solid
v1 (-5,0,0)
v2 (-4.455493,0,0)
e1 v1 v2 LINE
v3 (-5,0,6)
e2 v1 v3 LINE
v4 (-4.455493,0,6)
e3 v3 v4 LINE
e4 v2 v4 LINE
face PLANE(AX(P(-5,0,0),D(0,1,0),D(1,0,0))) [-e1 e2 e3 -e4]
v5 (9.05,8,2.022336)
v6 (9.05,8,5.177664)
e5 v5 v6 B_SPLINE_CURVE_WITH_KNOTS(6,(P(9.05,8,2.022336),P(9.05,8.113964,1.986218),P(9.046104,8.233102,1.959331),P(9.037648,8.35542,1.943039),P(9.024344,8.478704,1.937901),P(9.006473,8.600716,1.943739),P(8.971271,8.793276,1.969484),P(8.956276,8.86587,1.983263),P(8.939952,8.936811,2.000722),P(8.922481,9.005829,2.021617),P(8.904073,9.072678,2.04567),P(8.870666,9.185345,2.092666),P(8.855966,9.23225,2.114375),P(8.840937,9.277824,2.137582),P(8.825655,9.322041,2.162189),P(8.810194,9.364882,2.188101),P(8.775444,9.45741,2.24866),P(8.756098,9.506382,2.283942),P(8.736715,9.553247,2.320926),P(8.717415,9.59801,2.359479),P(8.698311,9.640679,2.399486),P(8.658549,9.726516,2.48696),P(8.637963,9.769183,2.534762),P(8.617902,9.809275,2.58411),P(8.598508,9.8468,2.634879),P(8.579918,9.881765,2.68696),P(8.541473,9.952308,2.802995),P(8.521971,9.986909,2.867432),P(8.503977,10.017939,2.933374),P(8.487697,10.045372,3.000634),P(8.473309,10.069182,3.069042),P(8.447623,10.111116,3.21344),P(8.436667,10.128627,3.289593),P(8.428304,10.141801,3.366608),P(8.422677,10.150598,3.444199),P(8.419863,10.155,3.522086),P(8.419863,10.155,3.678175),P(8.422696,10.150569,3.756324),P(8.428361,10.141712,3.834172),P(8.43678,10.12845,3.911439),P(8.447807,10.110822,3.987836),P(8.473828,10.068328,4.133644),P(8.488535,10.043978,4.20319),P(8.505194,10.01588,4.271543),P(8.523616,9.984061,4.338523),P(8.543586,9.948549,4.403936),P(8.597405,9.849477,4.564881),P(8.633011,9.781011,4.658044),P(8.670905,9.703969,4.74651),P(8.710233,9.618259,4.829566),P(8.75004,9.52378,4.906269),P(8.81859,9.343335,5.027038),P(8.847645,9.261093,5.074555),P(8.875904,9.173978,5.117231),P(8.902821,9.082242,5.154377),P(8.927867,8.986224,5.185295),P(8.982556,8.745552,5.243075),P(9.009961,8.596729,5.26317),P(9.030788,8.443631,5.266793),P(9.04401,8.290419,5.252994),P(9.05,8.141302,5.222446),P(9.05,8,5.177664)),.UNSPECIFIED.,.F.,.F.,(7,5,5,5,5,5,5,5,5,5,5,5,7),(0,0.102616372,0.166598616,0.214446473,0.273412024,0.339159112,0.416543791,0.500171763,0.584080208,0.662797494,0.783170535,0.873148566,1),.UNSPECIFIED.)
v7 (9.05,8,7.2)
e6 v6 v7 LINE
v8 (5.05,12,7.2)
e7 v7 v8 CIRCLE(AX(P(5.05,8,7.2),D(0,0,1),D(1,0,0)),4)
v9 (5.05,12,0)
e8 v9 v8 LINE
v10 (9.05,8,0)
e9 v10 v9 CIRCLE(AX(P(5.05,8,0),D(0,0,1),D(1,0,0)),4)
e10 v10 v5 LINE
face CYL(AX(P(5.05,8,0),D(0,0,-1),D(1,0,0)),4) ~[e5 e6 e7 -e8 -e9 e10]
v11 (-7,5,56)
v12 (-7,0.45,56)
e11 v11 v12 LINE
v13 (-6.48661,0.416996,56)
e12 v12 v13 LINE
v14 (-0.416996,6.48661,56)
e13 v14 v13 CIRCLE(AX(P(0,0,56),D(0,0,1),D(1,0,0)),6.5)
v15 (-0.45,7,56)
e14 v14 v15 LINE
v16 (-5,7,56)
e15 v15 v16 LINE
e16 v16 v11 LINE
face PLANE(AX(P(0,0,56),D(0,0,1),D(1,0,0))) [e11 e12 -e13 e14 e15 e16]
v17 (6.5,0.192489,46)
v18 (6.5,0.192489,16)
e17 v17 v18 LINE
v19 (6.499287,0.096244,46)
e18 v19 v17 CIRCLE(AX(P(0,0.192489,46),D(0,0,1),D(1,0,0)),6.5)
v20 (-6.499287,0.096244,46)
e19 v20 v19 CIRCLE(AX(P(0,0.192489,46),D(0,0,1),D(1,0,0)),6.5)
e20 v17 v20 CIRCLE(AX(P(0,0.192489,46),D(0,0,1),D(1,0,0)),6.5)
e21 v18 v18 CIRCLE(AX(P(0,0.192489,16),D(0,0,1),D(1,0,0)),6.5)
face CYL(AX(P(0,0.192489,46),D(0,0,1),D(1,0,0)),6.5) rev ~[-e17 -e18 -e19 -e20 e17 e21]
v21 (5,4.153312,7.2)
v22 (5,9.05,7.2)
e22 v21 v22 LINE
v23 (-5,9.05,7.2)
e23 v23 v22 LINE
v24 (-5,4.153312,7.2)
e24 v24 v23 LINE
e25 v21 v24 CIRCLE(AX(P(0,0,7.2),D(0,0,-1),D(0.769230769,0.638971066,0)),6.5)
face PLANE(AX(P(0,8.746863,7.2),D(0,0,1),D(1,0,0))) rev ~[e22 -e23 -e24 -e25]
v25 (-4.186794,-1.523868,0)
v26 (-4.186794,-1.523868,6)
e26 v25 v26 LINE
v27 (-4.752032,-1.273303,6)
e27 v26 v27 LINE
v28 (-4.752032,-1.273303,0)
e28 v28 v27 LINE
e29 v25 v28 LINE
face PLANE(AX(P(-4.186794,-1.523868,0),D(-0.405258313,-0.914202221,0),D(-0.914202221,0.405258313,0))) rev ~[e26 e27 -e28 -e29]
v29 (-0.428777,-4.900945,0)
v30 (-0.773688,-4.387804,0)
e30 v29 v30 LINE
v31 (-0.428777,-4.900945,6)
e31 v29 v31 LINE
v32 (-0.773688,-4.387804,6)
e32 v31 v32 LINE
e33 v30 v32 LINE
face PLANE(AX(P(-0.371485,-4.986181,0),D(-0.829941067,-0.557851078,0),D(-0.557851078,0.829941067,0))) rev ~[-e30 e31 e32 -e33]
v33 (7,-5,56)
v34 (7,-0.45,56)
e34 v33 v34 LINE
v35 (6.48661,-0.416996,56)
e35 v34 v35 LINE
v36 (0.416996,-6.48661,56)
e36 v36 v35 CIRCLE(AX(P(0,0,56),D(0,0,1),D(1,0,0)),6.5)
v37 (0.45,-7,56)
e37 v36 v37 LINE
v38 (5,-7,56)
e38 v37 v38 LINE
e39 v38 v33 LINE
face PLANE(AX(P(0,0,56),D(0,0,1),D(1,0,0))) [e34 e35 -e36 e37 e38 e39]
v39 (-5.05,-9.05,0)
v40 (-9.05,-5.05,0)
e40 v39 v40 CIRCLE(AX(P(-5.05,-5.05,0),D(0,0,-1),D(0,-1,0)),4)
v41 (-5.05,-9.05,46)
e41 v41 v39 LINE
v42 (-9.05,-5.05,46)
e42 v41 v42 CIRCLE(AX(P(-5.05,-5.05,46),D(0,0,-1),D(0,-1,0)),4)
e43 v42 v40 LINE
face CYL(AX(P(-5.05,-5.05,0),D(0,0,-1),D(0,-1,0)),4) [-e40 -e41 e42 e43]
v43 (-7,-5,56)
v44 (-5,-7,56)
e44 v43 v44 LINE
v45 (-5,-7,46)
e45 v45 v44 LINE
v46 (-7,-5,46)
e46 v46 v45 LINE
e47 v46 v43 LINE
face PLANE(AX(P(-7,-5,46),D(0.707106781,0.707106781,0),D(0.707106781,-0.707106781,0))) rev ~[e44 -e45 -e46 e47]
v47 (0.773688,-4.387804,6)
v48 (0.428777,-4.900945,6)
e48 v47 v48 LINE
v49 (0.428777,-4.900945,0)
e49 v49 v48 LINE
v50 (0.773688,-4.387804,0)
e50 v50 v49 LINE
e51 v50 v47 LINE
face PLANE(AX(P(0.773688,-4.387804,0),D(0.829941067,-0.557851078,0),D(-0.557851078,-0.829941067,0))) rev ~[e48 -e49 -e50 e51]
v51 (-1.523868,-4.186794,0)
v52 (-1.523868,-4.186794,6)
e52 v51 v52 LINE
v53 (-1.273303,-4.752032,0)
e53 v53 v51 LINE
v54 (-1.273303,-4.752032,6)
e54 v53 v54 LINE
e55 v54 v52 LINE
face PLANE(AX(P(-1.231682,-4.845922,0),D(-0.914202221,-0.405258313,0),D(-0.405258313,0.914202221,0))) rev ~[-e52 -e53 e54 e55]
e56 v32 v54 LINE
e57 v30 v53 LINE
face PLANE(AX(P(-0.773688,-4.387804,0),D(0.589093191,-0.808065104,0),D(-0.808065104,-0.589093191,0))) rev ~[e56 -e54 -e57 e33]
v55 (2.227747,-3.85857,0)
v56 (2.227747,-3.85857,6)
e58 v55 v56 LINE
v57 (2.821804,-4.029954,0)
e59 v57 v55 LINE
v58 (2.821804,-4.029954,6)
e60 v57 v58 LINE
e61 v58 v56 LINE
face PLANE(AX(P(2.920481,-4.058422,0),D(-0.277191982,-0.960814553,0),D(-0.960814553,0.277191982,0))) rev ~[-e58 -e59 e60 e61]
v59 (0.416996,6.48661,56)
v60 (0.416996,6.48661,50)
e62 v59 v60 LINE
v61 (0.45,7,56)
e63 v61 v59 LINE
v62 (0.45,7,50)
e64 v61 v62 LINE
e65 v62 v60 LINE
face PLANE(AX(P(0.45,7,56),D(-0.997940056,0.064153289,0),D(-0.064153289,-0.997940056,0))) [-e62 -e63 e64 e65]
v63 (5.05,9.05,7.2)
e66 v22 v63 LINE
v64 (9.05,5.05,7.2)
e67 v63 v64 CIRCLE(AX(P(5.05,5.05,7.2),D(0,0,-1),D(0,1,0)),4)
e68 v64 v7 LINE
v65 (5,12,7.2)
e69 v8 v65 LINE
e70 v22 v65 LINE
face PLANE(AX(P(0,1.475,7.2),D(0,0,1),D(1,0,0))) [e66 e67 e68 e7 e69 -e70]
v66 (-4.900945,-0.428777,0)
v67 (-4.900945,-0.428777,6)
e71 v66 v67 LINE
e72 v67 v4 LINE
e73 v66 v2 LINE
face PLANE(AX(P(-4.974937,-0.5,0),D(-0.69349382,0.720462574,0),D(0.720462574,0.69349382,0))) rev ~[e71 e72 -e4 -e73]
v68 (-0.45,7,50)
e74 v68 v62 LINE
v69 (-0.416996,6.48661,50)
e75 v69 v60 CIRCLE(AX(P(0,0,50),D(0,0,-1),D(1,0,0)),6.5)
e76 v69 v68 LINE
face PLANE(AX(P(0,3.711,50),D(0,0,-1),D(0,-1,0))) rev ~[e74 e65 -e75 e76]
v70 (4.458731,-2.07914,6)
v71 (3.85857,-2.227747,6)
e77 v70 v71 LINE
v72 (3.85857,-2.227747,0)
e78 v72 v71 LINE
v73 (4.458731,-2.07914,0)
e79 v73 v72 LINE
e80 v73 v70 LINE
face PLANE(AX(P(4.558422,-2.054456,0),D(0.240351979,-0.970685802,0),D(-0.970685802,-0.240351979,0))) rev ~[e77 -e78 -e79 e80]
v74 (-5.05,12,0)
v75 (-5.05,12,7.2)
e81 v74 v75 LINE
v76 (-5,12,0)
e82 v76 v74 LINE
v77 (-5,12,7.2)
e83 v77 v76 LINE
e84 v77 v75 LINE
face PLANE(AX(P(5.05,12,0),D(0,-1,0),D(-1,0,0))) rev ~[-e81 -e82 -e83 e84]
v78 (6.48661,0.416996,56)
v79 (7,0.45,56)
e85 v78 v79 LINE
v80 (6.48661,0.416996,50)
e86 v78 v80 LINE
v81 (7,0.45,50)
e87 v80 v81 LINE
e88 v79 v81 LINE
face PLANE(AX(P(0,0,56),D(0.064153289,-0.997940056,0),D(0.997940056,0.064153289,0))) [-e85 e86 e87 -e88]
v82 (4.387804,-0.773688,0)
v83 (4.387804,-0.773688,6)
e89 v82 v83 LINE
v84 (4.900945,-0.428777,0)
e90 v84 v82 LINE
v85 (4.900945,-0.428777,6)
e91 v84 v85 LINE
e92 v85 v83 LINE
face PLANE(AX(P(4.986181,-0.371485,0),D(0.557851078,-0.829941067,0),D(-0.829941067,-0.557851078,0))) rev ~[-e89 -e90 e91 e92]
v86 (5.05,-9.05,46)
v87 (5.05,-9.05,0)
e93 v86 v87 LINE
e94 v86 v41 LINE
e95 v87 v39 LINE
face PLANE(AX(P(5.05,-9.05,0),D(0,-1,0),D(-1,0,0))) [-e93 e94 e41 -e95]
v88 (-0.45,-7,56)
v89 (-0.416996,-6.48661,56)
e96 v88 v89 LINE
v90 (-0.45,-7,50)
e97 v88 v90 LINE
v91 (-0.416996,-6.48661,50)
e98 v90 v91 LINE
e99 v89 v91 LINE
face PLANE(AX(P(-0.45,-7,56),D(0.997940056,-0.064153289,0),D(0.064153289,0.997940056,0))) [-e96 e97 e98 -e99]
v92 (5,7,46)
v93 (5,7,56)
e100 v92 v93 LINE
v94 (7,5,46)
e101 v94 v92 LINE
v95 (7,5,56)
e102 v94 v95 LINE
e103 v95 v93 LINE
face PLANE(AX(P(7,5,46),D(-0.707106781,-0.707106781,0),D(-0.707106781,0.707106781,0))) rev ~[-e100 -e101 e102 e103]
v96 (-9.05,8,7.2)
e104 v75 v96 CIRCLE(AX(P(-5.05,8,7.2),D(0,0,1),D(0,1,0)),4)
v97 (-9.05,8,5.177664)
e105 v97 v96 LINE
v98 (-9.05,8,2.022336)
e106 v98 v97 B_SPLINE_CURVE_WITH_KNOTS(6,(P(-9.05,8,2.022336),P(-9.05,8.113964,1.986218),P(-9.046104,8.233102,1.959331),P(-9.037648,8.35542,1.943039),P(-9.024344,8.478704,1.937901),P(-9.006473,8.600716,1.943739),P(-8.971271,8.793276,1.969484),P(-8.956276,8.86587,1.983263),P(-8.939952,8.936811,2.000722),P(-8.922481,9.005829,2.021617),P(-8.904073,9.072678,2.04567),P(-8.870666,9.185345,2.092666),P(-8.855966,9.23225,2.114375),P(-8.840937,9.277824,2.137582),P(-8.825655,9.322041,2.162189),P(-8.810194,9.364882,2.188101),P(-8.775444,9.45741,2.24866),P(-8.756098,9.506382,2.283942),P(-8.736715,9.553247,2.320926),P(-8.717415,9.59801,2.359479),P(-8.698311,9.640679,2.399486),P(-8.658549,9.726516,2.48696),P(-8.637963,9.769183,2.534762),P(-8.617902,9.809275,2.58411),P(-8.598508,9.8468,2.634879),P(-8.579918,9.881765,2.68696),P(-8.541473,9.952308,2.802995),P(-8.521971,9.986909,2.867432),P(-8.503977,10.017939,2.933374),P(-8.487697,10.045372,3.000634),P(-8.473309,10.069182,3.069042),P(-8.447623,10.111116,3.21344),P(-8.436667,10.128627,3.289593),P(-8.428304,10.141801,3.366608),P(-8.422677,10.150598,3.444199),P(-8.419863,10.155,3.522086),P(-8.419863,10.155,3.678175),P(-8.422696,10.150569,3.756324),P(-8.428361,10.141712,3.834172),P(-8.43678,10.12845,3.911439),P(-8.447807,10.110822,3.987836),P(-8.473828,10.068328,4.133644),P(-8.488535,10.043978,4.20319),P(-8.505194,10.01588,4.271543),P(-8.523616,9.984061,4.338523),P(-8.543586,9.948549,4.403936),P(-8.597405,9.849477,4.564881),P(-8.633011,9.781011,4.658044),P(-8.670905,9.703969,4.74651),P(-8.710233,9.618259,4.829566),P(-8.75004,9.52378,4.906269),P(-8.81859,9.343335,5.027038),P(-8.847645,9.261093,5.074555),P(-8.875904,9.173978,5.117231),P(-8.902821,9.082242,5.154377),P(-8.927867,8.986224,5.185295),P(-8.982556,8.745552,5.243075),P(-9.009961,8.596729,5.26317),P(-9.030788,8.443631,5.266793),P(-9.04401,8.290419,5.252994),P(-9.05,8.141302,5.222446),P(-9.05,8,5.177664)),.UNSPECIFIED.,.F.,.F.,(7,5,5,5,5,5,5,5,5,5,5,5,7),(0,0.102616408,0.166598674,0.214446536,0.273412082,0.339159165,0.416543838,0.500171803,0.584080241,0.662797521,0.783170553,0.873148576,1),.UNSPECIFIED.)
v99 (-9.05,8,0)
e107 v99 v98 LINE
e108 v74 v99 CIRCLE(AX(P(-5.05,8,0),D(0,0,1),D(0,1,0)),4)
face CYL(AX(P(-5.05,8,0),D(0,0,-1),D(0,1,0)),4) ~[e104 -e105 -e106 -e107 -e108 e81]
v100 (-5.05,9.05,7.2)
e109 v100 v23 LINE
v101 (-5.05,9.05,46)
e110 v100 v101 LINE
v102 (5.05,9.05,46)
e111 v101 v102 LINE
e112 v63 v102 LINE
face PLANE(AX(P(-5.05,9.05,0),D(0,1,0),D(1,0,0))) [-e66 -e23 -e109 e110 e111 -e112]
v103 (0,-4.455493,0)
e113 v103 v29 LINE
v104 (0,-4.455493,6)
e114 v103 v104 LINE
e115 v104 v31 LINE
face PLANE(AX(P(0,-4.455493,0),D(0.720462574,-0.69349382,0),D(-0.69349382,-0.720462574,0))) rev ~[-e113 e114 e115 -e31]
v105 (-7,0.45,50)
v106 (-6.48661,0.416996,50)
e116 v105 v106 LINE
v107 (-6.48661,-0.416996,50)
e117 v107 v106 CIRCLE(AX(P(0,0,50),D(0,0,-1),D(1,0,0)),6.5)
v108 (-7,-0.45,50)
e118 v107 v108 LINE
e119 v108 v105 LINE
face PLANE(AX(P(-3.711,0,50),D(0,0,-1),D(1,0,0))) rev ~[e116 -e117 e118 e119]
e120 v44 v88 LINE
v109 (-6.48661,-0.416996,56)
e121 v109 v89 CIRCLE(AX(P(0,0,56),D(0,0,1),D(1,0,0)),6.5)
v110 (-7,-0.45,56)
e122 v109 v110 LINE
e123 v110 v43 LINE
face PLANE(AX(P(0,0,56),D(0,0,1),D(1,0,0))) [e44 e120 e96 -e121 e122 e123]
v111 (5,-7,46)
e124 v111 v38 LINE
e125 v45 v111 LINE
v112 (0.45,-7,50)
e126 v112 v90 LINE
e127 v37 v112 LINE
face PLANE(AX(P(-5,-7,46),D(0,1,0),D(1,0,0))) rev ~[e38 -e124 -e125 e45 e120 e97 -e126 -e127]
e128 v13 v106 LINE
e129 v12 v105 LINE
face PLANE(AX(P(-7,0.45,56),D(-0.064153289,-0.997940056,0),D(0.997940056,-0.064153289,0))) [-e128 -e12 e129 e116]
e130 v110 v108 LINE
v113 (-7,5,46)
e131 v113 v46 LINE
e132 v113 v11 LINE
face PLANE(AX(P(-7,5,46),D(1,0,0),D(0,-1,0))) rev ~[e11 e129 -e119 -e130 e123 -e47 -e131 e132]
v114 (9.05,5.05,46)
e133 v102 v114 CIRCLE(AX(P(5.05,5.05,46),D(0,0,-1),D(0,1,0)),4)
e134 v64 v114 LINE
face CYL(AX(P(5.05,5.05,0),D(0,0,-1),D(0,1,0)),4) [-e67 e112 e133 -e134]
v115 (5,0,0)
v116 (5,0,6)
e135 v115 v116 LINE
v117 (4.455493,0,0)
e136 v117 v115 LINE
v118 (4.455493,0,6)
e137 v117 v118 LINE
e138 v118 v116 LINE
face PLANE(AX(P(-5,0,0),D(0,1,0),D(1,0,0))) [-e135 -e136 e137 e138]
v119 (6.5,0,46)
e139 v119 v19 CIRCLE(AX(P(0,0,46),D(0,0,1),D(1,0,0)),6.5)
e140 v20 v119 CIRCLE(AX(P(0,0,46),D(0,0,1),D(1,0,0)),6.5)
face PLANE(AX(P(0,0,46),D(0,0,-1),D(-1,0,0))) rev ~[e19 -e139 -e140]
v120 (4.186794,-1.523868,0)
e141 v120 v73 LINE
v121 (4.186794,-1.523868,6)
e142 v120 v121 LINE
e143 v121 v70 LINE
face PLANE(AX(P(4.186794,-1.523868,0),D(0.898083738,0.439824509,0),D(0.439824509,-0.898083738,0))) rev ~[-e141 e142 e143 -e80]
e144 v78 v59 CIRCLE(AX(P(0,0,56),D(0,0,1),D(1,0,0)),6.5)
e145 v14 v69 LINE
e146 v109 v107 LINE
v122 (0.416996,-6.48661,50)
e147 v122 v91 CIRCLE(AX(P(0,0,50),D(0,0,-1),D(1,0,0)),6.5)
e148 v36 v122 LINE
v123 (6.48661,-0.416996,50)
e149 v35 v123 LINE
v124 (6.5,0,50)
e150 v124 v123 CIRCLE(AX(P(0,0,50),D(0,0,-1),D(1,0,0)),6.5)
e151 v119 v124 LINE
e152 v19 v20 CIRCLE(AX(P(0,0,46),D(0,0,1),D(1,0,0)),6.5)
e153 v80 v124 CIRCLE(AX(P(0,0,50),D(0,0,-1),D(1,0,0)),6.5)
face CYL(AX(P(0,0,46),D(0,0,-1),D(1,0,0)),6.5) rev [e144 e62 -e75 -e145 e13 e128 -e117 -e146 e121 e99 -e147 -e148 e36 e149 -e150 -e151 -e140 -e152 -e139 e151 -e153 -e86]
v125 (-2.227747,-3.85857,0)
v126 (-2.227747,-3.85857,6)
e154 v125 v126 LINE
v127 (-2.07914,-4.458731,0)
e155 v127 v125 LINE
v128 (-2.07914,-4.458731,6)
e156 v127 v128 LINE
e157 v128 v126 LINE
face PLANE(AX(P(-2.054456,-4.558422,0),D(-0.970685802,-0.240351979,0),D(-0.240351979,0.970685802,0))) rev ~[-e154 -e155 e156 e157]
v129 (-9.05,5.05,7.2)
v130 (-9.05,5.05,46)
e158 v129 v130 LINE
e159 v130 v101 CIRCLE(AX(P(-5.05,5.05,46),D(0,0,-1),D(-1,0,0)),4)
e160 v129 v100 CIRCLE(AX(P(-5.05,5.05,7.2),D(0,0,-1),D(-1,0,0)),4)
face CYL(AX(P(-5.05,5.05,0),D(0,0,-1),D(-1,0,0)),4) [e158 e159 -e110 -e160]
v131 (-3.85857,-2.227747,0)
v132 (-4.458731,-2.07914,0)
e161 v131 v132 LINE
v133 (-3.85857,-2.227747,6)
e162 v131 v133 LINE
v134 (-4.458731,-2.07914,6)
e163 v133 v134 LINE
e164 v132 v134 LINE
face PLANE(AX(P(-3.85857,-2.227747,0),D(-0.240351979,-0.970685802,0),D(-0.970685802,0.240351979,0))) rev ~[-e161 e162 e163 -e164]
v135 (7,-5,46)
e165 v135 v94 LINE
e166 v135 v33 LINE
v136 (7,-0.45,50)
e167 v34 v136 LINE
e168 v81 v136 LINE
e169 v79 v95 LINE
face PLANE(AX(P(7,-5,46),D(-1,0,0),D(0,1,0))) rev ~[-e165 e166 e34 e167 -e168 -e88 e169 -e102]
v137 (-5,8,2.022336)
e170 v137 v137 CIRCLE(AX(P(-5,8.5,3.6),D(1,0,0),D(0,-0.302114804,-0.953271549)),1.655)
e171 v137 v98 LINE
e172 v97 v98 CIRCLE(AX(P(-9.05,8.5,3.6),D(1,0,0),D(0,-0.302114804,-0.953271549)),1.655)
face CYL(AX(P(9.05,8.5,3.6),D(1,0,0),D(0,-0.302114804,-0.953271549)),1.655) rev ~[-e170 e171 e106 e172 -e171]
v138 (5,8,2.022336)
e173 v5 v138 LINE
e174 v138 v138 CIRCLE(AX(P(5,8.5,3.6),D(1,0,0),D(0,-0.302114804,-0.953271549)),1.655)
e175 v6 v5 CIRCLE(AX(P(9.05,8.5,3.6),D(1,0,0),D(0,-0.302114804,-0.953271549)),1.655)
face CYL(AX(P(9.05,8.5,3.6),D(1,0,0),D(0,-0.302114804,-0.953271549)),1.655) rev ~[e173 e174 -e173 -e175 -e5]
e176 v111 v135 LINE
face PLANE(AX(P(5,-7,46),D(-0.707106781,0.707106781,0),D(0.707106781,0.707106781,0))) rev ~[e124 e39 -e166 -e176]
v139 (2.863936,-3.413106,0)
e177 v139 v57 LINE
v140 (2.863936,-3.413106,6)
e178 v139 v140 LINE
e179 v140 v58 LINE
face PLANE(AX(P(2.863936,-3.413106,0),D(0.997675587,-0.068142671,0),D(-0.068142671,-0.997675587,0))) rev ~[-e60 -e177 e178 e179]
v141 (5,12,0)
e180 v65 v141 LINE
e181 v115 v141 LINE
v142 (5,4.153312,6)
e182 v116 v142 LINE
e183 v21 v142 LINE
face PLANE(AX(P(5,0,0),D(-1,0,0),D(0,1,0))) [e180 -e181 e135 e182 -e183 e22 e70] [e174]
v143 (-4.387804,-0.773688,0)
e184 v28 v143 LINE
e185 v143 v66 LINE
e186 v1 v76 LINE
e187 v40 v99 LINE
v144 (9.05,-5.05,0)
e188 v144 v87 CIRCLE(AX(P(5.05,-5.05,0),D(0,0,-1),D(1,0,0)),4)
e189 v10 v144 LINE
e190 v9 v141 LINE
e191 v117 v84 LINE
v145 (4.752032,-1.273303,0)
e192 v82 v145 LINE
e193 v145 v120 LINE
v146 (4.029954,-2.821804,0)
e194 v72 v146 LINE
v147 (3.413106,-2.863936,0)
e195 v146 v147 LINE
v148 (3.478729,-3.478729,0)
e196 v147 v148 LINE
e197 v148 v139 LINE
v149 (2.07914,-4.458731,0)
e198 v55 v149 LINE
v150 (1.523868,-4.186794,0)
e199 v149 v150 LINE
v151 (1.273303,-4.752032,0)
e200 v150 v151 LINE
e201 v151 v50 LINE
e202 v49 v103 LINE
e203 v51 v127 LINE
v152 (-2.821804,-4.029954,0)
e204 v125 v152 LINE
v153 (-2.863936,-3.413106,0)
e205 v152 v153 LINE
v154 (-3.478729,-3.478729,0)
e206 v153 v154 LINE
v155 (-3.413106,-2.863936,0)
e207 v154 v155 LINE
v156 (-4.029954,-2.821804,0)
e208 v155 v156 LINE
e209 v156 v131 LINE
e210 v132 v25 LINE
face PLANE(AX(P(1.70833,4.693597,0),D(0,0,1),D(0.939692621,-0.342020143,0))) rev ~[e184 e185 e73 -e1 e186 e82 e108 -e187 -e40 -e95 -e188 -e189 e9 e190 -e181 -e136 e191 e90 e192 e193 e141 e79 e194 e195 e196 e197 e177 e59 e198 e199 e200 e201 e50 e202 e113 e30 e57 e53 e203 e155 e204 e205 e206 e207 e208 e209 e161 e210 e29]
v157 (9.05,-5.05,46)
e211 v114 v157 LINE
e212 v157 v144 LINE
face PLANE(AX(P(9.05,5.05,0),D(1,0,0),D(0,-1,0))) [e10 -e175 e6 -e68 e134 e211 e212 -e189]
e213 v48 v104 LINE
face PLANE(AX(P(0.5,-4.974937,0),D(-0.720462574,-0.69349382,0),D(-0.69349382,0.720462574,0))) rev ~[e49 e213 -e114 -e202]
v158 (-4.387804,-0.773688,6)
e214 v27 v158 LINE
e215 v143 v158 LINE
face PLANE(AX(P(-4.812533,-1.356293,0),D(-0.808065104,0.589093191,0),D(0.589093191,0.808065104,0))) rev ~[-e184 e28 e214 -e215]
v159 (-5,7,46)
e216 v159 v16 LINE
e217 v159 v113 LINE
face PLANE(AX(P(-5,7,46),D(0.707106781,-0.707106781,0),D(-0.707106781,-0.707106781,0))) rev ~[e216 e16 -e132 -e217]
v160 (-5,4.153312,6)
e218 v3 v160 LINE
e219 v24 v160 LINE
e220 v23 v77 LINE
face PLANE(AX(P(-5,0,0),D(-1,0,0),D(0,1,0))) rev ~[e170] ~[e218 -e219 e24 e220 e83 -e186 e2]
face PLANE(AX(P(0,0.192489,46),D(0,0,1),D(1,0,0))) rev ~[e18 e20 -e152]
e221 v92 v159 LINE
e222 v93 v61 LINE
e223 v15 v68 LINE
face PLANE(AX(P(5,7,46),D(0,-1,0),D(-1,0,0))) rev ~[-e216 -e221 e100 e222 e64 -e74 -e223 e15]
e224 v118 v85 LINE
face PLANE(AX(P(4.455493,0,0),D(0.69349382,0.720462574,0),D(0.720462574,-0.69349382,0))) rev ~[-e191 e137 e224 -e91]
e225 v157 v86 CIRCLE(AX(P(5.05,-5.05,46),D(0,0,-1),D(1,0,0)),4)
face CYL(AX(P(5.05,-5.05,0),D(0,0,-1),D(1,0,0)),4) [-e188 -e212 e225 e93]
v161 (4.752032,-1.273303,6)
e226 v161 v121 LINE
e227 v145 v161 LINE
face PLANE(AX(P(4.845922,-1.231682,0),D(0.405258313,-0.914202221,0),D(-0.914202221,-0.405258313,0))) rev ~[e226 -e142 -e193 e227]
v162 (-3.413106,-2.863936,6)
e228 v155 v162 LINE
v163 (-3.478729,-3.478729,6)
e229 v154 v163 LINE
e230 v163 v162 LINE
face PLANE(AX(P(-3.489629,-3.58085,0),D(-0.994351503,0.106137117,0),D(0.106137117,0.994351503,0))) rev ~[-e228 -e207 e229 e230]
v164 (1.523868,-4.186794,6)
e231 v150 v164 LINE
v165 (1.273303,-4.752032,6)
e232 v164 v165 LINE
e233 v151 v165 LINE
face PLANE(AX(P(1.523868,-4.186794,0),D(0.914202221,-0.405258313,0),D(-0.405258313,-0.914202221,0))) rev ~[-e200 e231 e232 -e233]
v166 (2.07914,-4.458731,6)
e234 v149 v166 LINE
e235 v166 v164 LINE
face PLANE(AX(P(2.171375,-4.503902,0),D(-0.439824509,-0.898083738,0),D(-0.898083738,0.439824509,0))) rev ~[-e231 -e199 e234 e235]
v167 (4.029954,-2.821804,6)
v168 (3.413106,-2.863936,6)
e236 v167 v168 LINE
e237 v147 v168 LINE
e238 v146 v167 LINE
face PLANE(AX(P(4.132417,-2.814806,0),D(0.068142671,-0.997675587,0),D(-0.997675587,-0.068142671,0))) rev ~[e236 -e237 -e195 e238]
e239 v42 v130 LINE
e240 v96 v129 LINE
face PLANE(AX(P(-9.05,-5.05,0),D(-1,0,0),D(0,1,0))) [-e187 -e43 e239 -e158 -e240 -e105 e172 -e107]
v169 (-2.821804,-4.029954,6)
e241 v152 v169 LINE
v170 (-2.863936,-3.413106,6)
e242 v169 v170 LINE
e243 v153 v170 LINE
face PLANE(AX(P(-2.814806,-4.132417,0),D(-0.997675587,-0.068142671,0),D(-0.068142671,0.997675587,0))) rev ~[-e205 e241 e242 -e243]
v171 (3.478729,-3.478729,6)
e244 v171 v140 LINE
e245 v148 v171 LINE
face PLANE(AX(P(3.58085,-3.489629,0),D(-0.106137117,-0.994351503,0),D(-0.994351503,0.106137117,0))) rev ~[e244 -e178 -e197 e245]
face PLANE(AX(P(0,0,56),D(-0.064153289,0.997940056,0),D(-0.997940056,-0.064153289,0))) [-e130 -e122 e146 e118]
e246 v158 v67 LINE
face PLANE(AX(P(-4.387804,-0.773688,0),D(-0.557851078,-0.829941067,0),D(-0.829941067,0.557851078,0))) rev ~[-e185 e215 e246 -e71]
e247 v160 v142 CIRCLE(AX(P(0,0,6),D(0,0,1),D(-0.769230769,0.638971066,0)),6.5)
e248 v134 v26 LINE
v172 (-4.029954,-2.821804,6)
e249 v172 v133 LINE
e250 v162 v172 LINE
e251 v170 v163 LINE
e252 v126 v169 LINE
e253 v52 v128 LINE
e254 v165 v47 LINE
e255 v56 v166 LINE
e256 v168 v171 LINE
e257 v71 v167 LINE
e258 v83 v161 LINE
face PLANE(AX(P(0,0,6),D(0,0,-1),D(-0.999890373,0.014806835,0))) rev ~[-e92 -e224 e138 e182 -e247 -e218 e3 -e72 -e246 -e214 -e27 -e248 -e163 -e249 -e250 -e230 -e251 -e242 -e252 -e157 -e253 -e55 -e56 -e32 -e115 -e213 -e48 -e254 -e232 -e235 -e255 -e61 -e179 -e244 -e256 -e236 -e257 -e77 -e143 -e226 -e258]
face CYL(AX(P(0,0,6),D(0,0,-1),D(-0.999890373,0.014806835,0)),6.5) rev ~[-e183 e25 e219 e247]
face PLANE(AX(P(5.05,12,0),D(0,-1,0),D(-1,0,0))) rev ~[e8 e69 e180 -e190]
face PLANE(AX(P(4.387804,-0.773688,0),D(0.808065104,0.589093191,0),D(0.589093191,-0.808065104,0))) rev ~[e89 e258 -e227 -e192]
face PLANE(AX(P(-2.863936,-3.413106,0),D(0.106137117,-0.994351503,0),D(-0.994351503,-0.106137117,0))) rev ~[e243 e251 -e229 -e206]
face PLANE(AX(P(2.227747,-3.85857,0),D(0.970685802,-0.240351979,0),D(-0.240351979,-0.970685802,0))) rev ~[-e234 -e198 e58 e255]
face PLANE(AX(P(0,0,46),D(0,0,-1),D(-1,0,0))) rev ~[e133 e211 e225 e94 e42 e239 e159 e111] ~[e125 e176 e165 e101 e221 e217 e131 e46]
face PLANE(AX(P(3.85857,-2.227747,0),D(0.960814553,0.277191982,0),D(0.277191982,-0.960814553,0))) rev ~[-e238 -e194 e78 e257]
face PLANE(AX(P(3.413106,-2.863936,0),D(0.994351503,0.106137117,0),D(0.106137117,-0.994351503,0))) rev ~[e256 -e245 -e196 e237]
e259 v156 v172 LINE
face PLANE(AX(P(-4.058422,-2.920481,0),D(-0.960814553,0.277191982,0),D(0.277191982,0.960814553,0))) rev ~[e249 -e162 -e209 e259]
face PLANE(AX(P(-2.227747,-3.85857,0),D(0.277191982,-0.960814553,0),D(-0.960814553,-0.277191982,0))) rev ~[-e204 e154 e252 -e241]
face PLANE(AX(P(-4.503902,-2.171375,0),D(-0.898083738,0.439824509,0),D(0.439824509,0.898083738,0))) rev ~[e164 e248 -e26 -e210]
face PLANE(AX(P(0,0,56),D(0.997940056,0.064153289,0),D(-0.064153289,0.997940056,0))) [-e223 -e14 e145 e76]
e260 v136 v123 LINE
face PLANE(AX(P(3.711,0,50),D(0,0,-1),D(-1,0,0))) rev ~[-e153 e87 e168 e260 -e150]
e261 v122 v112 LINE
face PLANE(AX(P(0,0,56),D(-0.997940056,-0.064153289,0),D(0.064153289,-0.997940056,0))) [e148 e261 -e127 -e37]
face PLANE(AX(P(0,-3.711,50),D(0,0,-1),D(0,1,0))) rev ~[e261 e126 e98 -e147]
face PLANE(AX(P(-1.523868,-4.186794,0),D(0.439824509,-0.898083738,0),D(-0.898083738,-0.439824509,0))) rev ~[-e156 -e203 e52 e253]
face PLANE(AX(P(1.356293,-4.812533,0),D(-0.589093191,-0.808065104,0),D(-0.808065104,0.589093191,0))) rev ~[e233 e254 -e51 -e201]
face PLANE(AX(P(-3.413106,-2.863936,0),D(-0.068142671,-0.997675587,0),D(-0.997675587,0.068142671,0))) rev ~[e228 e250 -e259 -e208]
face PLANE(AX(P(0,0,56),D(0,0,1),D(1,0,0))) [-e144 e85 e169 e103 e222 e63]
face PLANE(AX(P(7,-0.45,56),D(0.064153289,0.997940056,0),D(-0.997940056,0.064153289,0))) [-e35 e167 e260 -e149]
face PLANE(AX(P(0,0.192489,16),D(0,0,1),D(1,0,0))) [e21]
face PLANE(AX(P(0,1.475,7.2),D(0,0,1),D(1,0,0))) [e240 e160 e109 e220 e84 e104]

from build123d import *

# Parameters (mm, degrees)
BOSS_EXTRUDE1_DEPTH = 46
SKETCH3_R           = 6.5
BOSS_EXTRUDE2_DEPTH = 10
CUT_EXTRUDE7_DEPTH  = 6
CIRPATTERN1_COUNT   = 4
SKETCH12_R          = 6.5
CUT_EXTRUDE8_DEPTH  = 30
BOSS_EXTRUDE3_DEPTH = 7.2
SKETCH17_R          = 1.655
CUT_EXTRUDE10_DEPTH = 30
SKETCH18_R          = 5
CUT_EXTRUDE11_DEPTH = 6
BOSS_EXTRUDE4_DEPTH = 6
CIRPATTERN2_COUNT   = 36
SKETCH20_R          = 6.5
CUT_EXTRUDE12_DEPTH = 1.2
SKETCH21_W          = 10
SKETCH21_H          = 17.493725323
CUT_EXTRUDE13_DEPTH = 7.2


with BuildPart() as part:
    # Sketch1 → Boss-Extrude1 (new body)
    with BuildSketch(Plane.XY):
        with BuildLine():
            Line((-5.05, 9.05), (5.05, 9.05))
            ThreePointArc((5.05, 9.05), (7.878427125, 7.878427125), (9.05, 5.05))
            Line((9.05, 5.05), (9.05, -5.05))
            ThreePointArc((9.05, -5.05), (7.878427125, -7.878427125), (5.05, -9.05))
            Line((5.05, -9.05), (-5.05, -9.05))
            ThreePointArc((-5.05, -9.05), (-7.878427125, -7.878427125), (-9.05, -5.05))
            Line((-9.05, -5.05), (-9.05, 5.05))
            ThreePointArc((-9.05, 5.05), (-7.878427125, 7.878427125), (-5.05, 9.05))
        make_face()
    extrude(amount=BOSS_EXTRUDE1_DEPTH)

    # Sketch3 → Boss-Extrude2 (add)
    with BuildSketch(Plane.XY.offset(46)):
        Polygon((-5, -7), (5, -7), (7, -5), (7, 5), (5, 7), (-5, 7), (-7, 5), (-7, -5), align=None)
        Circle(SKETCH3_R, mode=Mode.SUBTRACT)
    extrude(amount=BOSS_EXTRUDE2_DEPTH)

    # Sketch11 → Cut-Extrude7 (cut)
    with BuildSketch(Plane.XY.offset(56)):
        Polygon((0, 0), (7, 0.45), (7, -0.45), align=None)
    cut_extrude7 = extrude(amount=-CUT_EXTRUDE7_DEPTH, mode=Mode.SUBTRACT)

    # CirPattern1: Cut-Extrude7 ×4 about axis
    cirpattern1_axis = Axis((0, 0, 56), (0, 0, -1))
    for i in range(1, CIRPATTERN1_COUNT):
        add(cut_extrude7.rotate(cirpattern1_axis, i * 360 / CIRPATTERN1_COUNT), mode=Mode.SUBTRACT)

    # Sketch12 → Cut-Extrude8 (cut)
    with BuildSketch(Plane.XY.offset(46)):
        with Locations((0, 0.192488852)):
            Circle(SKETCH12_R)
    extrude(amount=-CUT_EXTRUDE8_DEPTH, mode=Mode.SUBTRACT)

    # Sketch15 → Boss-Extrude3 (add)
    with BuildSketch(Plane.XY):
        with BuildLine():
            Line((-5.05, -9.05), (5.05, -9.05))
            ThreePointArc((5.05, -9.05), (7.878427125, -7.878427125), (9.05, -5.05))
            Line((9.05, -5.05), (9.05, 8))
            ThreePointArc((9.05, 8), (7.878427125, 10.828427125), (5.05, 12))
            Line((5.05, 12), (-5.05, 12))
            ThreePointArc((-5.05, 12), (-7.878427125, 10.828427125), (-9.05, 8))
            Line((-9.05, 8), (-9.05, -5.05))
            ThreePointArc((-9.05, -5.05), (-7.878427125, -7.878427125), (-5.05, -9.05))
        make_face()
    extrude(amount=BOSS_EXTRUDE3_DEPTH)

    # Sketch17 → Cut-Extrude10 (cut)
    with BuildSketch(Plane(origin=(9.05, 0, 0), x_dir=(0, 0, -1), z_dir=(1, 0, 0))):
        with Locations(Location((-3.6, 8.5, 0), (0, 0, 342.4153325))):
            Circle(SKETCH17_R)
    extrude(amount=-CUT_EXTRUDE10_DEPTH, mode=Mode.SUBTRACT)

    # Sketch18 → Cut-Extrude11 (cut)
    with BuildSketch(Plane.XY):
        Circle(SKETCH18_R)
    extrude(amount=CUT_EXTRUDE11_DEPTH, mode=Mode.SUBTRACT)

    # Sketch19 → Boss-Extrude4 (add)
    with BuildSketch(Plane.XY):
        with BuildLine():
            Line((-0.5, 4.974937186), (0, 4.455493066))
            Line((0, 4.455493066), (0.5, 4.974937186))
            ThreePointArc((0.5, 4.974937186), (0, 5.474937186), (-0.5, 4.974937186))
        make_face()
    boss_extrude4 = extrude(amount=BOSS_EXTRUDE4_DEPTH)

    # CirPattern2: Boss-Extrude4 ×36 about axis
    cirpattern2_axis = Axis((0, 0, 0), (0, 0, 1))
    for i in range(1, CIRPATTERN2_COUNT):
        add(boss_extrude4.rotate(cirpattern2_axis, i * 360 / CIRPATTERN2_COUNT))

    # Sketch20 → Cut-Extrude12 (cut)
    with BuildSketch(Plane(origin=(0, 0, 6), x_dir=(-1, 0, 0), z_dir=(0, 0, -1))):
        with Locations(Location((0, 0, 0), (0, 0, 0.848400141))):
            Circle(SKETCH20_R)
    extrude(amount=-CUT_EXTRUDE12_DEPTH, mode=Mode.SUBTRACT)

    # Sketch21 → Cut-Extrude13 (cut)
    with BuildSketch(Plane.XY):
        with Locations((0, 8.746862661)):
            Rectangle(SKETCH21_W, SKETCH21_H)
    extrude(amount=CUT_EXTRUDE13_DEPTH, mode=Mode.SUBTRACT)


solid = part.part
